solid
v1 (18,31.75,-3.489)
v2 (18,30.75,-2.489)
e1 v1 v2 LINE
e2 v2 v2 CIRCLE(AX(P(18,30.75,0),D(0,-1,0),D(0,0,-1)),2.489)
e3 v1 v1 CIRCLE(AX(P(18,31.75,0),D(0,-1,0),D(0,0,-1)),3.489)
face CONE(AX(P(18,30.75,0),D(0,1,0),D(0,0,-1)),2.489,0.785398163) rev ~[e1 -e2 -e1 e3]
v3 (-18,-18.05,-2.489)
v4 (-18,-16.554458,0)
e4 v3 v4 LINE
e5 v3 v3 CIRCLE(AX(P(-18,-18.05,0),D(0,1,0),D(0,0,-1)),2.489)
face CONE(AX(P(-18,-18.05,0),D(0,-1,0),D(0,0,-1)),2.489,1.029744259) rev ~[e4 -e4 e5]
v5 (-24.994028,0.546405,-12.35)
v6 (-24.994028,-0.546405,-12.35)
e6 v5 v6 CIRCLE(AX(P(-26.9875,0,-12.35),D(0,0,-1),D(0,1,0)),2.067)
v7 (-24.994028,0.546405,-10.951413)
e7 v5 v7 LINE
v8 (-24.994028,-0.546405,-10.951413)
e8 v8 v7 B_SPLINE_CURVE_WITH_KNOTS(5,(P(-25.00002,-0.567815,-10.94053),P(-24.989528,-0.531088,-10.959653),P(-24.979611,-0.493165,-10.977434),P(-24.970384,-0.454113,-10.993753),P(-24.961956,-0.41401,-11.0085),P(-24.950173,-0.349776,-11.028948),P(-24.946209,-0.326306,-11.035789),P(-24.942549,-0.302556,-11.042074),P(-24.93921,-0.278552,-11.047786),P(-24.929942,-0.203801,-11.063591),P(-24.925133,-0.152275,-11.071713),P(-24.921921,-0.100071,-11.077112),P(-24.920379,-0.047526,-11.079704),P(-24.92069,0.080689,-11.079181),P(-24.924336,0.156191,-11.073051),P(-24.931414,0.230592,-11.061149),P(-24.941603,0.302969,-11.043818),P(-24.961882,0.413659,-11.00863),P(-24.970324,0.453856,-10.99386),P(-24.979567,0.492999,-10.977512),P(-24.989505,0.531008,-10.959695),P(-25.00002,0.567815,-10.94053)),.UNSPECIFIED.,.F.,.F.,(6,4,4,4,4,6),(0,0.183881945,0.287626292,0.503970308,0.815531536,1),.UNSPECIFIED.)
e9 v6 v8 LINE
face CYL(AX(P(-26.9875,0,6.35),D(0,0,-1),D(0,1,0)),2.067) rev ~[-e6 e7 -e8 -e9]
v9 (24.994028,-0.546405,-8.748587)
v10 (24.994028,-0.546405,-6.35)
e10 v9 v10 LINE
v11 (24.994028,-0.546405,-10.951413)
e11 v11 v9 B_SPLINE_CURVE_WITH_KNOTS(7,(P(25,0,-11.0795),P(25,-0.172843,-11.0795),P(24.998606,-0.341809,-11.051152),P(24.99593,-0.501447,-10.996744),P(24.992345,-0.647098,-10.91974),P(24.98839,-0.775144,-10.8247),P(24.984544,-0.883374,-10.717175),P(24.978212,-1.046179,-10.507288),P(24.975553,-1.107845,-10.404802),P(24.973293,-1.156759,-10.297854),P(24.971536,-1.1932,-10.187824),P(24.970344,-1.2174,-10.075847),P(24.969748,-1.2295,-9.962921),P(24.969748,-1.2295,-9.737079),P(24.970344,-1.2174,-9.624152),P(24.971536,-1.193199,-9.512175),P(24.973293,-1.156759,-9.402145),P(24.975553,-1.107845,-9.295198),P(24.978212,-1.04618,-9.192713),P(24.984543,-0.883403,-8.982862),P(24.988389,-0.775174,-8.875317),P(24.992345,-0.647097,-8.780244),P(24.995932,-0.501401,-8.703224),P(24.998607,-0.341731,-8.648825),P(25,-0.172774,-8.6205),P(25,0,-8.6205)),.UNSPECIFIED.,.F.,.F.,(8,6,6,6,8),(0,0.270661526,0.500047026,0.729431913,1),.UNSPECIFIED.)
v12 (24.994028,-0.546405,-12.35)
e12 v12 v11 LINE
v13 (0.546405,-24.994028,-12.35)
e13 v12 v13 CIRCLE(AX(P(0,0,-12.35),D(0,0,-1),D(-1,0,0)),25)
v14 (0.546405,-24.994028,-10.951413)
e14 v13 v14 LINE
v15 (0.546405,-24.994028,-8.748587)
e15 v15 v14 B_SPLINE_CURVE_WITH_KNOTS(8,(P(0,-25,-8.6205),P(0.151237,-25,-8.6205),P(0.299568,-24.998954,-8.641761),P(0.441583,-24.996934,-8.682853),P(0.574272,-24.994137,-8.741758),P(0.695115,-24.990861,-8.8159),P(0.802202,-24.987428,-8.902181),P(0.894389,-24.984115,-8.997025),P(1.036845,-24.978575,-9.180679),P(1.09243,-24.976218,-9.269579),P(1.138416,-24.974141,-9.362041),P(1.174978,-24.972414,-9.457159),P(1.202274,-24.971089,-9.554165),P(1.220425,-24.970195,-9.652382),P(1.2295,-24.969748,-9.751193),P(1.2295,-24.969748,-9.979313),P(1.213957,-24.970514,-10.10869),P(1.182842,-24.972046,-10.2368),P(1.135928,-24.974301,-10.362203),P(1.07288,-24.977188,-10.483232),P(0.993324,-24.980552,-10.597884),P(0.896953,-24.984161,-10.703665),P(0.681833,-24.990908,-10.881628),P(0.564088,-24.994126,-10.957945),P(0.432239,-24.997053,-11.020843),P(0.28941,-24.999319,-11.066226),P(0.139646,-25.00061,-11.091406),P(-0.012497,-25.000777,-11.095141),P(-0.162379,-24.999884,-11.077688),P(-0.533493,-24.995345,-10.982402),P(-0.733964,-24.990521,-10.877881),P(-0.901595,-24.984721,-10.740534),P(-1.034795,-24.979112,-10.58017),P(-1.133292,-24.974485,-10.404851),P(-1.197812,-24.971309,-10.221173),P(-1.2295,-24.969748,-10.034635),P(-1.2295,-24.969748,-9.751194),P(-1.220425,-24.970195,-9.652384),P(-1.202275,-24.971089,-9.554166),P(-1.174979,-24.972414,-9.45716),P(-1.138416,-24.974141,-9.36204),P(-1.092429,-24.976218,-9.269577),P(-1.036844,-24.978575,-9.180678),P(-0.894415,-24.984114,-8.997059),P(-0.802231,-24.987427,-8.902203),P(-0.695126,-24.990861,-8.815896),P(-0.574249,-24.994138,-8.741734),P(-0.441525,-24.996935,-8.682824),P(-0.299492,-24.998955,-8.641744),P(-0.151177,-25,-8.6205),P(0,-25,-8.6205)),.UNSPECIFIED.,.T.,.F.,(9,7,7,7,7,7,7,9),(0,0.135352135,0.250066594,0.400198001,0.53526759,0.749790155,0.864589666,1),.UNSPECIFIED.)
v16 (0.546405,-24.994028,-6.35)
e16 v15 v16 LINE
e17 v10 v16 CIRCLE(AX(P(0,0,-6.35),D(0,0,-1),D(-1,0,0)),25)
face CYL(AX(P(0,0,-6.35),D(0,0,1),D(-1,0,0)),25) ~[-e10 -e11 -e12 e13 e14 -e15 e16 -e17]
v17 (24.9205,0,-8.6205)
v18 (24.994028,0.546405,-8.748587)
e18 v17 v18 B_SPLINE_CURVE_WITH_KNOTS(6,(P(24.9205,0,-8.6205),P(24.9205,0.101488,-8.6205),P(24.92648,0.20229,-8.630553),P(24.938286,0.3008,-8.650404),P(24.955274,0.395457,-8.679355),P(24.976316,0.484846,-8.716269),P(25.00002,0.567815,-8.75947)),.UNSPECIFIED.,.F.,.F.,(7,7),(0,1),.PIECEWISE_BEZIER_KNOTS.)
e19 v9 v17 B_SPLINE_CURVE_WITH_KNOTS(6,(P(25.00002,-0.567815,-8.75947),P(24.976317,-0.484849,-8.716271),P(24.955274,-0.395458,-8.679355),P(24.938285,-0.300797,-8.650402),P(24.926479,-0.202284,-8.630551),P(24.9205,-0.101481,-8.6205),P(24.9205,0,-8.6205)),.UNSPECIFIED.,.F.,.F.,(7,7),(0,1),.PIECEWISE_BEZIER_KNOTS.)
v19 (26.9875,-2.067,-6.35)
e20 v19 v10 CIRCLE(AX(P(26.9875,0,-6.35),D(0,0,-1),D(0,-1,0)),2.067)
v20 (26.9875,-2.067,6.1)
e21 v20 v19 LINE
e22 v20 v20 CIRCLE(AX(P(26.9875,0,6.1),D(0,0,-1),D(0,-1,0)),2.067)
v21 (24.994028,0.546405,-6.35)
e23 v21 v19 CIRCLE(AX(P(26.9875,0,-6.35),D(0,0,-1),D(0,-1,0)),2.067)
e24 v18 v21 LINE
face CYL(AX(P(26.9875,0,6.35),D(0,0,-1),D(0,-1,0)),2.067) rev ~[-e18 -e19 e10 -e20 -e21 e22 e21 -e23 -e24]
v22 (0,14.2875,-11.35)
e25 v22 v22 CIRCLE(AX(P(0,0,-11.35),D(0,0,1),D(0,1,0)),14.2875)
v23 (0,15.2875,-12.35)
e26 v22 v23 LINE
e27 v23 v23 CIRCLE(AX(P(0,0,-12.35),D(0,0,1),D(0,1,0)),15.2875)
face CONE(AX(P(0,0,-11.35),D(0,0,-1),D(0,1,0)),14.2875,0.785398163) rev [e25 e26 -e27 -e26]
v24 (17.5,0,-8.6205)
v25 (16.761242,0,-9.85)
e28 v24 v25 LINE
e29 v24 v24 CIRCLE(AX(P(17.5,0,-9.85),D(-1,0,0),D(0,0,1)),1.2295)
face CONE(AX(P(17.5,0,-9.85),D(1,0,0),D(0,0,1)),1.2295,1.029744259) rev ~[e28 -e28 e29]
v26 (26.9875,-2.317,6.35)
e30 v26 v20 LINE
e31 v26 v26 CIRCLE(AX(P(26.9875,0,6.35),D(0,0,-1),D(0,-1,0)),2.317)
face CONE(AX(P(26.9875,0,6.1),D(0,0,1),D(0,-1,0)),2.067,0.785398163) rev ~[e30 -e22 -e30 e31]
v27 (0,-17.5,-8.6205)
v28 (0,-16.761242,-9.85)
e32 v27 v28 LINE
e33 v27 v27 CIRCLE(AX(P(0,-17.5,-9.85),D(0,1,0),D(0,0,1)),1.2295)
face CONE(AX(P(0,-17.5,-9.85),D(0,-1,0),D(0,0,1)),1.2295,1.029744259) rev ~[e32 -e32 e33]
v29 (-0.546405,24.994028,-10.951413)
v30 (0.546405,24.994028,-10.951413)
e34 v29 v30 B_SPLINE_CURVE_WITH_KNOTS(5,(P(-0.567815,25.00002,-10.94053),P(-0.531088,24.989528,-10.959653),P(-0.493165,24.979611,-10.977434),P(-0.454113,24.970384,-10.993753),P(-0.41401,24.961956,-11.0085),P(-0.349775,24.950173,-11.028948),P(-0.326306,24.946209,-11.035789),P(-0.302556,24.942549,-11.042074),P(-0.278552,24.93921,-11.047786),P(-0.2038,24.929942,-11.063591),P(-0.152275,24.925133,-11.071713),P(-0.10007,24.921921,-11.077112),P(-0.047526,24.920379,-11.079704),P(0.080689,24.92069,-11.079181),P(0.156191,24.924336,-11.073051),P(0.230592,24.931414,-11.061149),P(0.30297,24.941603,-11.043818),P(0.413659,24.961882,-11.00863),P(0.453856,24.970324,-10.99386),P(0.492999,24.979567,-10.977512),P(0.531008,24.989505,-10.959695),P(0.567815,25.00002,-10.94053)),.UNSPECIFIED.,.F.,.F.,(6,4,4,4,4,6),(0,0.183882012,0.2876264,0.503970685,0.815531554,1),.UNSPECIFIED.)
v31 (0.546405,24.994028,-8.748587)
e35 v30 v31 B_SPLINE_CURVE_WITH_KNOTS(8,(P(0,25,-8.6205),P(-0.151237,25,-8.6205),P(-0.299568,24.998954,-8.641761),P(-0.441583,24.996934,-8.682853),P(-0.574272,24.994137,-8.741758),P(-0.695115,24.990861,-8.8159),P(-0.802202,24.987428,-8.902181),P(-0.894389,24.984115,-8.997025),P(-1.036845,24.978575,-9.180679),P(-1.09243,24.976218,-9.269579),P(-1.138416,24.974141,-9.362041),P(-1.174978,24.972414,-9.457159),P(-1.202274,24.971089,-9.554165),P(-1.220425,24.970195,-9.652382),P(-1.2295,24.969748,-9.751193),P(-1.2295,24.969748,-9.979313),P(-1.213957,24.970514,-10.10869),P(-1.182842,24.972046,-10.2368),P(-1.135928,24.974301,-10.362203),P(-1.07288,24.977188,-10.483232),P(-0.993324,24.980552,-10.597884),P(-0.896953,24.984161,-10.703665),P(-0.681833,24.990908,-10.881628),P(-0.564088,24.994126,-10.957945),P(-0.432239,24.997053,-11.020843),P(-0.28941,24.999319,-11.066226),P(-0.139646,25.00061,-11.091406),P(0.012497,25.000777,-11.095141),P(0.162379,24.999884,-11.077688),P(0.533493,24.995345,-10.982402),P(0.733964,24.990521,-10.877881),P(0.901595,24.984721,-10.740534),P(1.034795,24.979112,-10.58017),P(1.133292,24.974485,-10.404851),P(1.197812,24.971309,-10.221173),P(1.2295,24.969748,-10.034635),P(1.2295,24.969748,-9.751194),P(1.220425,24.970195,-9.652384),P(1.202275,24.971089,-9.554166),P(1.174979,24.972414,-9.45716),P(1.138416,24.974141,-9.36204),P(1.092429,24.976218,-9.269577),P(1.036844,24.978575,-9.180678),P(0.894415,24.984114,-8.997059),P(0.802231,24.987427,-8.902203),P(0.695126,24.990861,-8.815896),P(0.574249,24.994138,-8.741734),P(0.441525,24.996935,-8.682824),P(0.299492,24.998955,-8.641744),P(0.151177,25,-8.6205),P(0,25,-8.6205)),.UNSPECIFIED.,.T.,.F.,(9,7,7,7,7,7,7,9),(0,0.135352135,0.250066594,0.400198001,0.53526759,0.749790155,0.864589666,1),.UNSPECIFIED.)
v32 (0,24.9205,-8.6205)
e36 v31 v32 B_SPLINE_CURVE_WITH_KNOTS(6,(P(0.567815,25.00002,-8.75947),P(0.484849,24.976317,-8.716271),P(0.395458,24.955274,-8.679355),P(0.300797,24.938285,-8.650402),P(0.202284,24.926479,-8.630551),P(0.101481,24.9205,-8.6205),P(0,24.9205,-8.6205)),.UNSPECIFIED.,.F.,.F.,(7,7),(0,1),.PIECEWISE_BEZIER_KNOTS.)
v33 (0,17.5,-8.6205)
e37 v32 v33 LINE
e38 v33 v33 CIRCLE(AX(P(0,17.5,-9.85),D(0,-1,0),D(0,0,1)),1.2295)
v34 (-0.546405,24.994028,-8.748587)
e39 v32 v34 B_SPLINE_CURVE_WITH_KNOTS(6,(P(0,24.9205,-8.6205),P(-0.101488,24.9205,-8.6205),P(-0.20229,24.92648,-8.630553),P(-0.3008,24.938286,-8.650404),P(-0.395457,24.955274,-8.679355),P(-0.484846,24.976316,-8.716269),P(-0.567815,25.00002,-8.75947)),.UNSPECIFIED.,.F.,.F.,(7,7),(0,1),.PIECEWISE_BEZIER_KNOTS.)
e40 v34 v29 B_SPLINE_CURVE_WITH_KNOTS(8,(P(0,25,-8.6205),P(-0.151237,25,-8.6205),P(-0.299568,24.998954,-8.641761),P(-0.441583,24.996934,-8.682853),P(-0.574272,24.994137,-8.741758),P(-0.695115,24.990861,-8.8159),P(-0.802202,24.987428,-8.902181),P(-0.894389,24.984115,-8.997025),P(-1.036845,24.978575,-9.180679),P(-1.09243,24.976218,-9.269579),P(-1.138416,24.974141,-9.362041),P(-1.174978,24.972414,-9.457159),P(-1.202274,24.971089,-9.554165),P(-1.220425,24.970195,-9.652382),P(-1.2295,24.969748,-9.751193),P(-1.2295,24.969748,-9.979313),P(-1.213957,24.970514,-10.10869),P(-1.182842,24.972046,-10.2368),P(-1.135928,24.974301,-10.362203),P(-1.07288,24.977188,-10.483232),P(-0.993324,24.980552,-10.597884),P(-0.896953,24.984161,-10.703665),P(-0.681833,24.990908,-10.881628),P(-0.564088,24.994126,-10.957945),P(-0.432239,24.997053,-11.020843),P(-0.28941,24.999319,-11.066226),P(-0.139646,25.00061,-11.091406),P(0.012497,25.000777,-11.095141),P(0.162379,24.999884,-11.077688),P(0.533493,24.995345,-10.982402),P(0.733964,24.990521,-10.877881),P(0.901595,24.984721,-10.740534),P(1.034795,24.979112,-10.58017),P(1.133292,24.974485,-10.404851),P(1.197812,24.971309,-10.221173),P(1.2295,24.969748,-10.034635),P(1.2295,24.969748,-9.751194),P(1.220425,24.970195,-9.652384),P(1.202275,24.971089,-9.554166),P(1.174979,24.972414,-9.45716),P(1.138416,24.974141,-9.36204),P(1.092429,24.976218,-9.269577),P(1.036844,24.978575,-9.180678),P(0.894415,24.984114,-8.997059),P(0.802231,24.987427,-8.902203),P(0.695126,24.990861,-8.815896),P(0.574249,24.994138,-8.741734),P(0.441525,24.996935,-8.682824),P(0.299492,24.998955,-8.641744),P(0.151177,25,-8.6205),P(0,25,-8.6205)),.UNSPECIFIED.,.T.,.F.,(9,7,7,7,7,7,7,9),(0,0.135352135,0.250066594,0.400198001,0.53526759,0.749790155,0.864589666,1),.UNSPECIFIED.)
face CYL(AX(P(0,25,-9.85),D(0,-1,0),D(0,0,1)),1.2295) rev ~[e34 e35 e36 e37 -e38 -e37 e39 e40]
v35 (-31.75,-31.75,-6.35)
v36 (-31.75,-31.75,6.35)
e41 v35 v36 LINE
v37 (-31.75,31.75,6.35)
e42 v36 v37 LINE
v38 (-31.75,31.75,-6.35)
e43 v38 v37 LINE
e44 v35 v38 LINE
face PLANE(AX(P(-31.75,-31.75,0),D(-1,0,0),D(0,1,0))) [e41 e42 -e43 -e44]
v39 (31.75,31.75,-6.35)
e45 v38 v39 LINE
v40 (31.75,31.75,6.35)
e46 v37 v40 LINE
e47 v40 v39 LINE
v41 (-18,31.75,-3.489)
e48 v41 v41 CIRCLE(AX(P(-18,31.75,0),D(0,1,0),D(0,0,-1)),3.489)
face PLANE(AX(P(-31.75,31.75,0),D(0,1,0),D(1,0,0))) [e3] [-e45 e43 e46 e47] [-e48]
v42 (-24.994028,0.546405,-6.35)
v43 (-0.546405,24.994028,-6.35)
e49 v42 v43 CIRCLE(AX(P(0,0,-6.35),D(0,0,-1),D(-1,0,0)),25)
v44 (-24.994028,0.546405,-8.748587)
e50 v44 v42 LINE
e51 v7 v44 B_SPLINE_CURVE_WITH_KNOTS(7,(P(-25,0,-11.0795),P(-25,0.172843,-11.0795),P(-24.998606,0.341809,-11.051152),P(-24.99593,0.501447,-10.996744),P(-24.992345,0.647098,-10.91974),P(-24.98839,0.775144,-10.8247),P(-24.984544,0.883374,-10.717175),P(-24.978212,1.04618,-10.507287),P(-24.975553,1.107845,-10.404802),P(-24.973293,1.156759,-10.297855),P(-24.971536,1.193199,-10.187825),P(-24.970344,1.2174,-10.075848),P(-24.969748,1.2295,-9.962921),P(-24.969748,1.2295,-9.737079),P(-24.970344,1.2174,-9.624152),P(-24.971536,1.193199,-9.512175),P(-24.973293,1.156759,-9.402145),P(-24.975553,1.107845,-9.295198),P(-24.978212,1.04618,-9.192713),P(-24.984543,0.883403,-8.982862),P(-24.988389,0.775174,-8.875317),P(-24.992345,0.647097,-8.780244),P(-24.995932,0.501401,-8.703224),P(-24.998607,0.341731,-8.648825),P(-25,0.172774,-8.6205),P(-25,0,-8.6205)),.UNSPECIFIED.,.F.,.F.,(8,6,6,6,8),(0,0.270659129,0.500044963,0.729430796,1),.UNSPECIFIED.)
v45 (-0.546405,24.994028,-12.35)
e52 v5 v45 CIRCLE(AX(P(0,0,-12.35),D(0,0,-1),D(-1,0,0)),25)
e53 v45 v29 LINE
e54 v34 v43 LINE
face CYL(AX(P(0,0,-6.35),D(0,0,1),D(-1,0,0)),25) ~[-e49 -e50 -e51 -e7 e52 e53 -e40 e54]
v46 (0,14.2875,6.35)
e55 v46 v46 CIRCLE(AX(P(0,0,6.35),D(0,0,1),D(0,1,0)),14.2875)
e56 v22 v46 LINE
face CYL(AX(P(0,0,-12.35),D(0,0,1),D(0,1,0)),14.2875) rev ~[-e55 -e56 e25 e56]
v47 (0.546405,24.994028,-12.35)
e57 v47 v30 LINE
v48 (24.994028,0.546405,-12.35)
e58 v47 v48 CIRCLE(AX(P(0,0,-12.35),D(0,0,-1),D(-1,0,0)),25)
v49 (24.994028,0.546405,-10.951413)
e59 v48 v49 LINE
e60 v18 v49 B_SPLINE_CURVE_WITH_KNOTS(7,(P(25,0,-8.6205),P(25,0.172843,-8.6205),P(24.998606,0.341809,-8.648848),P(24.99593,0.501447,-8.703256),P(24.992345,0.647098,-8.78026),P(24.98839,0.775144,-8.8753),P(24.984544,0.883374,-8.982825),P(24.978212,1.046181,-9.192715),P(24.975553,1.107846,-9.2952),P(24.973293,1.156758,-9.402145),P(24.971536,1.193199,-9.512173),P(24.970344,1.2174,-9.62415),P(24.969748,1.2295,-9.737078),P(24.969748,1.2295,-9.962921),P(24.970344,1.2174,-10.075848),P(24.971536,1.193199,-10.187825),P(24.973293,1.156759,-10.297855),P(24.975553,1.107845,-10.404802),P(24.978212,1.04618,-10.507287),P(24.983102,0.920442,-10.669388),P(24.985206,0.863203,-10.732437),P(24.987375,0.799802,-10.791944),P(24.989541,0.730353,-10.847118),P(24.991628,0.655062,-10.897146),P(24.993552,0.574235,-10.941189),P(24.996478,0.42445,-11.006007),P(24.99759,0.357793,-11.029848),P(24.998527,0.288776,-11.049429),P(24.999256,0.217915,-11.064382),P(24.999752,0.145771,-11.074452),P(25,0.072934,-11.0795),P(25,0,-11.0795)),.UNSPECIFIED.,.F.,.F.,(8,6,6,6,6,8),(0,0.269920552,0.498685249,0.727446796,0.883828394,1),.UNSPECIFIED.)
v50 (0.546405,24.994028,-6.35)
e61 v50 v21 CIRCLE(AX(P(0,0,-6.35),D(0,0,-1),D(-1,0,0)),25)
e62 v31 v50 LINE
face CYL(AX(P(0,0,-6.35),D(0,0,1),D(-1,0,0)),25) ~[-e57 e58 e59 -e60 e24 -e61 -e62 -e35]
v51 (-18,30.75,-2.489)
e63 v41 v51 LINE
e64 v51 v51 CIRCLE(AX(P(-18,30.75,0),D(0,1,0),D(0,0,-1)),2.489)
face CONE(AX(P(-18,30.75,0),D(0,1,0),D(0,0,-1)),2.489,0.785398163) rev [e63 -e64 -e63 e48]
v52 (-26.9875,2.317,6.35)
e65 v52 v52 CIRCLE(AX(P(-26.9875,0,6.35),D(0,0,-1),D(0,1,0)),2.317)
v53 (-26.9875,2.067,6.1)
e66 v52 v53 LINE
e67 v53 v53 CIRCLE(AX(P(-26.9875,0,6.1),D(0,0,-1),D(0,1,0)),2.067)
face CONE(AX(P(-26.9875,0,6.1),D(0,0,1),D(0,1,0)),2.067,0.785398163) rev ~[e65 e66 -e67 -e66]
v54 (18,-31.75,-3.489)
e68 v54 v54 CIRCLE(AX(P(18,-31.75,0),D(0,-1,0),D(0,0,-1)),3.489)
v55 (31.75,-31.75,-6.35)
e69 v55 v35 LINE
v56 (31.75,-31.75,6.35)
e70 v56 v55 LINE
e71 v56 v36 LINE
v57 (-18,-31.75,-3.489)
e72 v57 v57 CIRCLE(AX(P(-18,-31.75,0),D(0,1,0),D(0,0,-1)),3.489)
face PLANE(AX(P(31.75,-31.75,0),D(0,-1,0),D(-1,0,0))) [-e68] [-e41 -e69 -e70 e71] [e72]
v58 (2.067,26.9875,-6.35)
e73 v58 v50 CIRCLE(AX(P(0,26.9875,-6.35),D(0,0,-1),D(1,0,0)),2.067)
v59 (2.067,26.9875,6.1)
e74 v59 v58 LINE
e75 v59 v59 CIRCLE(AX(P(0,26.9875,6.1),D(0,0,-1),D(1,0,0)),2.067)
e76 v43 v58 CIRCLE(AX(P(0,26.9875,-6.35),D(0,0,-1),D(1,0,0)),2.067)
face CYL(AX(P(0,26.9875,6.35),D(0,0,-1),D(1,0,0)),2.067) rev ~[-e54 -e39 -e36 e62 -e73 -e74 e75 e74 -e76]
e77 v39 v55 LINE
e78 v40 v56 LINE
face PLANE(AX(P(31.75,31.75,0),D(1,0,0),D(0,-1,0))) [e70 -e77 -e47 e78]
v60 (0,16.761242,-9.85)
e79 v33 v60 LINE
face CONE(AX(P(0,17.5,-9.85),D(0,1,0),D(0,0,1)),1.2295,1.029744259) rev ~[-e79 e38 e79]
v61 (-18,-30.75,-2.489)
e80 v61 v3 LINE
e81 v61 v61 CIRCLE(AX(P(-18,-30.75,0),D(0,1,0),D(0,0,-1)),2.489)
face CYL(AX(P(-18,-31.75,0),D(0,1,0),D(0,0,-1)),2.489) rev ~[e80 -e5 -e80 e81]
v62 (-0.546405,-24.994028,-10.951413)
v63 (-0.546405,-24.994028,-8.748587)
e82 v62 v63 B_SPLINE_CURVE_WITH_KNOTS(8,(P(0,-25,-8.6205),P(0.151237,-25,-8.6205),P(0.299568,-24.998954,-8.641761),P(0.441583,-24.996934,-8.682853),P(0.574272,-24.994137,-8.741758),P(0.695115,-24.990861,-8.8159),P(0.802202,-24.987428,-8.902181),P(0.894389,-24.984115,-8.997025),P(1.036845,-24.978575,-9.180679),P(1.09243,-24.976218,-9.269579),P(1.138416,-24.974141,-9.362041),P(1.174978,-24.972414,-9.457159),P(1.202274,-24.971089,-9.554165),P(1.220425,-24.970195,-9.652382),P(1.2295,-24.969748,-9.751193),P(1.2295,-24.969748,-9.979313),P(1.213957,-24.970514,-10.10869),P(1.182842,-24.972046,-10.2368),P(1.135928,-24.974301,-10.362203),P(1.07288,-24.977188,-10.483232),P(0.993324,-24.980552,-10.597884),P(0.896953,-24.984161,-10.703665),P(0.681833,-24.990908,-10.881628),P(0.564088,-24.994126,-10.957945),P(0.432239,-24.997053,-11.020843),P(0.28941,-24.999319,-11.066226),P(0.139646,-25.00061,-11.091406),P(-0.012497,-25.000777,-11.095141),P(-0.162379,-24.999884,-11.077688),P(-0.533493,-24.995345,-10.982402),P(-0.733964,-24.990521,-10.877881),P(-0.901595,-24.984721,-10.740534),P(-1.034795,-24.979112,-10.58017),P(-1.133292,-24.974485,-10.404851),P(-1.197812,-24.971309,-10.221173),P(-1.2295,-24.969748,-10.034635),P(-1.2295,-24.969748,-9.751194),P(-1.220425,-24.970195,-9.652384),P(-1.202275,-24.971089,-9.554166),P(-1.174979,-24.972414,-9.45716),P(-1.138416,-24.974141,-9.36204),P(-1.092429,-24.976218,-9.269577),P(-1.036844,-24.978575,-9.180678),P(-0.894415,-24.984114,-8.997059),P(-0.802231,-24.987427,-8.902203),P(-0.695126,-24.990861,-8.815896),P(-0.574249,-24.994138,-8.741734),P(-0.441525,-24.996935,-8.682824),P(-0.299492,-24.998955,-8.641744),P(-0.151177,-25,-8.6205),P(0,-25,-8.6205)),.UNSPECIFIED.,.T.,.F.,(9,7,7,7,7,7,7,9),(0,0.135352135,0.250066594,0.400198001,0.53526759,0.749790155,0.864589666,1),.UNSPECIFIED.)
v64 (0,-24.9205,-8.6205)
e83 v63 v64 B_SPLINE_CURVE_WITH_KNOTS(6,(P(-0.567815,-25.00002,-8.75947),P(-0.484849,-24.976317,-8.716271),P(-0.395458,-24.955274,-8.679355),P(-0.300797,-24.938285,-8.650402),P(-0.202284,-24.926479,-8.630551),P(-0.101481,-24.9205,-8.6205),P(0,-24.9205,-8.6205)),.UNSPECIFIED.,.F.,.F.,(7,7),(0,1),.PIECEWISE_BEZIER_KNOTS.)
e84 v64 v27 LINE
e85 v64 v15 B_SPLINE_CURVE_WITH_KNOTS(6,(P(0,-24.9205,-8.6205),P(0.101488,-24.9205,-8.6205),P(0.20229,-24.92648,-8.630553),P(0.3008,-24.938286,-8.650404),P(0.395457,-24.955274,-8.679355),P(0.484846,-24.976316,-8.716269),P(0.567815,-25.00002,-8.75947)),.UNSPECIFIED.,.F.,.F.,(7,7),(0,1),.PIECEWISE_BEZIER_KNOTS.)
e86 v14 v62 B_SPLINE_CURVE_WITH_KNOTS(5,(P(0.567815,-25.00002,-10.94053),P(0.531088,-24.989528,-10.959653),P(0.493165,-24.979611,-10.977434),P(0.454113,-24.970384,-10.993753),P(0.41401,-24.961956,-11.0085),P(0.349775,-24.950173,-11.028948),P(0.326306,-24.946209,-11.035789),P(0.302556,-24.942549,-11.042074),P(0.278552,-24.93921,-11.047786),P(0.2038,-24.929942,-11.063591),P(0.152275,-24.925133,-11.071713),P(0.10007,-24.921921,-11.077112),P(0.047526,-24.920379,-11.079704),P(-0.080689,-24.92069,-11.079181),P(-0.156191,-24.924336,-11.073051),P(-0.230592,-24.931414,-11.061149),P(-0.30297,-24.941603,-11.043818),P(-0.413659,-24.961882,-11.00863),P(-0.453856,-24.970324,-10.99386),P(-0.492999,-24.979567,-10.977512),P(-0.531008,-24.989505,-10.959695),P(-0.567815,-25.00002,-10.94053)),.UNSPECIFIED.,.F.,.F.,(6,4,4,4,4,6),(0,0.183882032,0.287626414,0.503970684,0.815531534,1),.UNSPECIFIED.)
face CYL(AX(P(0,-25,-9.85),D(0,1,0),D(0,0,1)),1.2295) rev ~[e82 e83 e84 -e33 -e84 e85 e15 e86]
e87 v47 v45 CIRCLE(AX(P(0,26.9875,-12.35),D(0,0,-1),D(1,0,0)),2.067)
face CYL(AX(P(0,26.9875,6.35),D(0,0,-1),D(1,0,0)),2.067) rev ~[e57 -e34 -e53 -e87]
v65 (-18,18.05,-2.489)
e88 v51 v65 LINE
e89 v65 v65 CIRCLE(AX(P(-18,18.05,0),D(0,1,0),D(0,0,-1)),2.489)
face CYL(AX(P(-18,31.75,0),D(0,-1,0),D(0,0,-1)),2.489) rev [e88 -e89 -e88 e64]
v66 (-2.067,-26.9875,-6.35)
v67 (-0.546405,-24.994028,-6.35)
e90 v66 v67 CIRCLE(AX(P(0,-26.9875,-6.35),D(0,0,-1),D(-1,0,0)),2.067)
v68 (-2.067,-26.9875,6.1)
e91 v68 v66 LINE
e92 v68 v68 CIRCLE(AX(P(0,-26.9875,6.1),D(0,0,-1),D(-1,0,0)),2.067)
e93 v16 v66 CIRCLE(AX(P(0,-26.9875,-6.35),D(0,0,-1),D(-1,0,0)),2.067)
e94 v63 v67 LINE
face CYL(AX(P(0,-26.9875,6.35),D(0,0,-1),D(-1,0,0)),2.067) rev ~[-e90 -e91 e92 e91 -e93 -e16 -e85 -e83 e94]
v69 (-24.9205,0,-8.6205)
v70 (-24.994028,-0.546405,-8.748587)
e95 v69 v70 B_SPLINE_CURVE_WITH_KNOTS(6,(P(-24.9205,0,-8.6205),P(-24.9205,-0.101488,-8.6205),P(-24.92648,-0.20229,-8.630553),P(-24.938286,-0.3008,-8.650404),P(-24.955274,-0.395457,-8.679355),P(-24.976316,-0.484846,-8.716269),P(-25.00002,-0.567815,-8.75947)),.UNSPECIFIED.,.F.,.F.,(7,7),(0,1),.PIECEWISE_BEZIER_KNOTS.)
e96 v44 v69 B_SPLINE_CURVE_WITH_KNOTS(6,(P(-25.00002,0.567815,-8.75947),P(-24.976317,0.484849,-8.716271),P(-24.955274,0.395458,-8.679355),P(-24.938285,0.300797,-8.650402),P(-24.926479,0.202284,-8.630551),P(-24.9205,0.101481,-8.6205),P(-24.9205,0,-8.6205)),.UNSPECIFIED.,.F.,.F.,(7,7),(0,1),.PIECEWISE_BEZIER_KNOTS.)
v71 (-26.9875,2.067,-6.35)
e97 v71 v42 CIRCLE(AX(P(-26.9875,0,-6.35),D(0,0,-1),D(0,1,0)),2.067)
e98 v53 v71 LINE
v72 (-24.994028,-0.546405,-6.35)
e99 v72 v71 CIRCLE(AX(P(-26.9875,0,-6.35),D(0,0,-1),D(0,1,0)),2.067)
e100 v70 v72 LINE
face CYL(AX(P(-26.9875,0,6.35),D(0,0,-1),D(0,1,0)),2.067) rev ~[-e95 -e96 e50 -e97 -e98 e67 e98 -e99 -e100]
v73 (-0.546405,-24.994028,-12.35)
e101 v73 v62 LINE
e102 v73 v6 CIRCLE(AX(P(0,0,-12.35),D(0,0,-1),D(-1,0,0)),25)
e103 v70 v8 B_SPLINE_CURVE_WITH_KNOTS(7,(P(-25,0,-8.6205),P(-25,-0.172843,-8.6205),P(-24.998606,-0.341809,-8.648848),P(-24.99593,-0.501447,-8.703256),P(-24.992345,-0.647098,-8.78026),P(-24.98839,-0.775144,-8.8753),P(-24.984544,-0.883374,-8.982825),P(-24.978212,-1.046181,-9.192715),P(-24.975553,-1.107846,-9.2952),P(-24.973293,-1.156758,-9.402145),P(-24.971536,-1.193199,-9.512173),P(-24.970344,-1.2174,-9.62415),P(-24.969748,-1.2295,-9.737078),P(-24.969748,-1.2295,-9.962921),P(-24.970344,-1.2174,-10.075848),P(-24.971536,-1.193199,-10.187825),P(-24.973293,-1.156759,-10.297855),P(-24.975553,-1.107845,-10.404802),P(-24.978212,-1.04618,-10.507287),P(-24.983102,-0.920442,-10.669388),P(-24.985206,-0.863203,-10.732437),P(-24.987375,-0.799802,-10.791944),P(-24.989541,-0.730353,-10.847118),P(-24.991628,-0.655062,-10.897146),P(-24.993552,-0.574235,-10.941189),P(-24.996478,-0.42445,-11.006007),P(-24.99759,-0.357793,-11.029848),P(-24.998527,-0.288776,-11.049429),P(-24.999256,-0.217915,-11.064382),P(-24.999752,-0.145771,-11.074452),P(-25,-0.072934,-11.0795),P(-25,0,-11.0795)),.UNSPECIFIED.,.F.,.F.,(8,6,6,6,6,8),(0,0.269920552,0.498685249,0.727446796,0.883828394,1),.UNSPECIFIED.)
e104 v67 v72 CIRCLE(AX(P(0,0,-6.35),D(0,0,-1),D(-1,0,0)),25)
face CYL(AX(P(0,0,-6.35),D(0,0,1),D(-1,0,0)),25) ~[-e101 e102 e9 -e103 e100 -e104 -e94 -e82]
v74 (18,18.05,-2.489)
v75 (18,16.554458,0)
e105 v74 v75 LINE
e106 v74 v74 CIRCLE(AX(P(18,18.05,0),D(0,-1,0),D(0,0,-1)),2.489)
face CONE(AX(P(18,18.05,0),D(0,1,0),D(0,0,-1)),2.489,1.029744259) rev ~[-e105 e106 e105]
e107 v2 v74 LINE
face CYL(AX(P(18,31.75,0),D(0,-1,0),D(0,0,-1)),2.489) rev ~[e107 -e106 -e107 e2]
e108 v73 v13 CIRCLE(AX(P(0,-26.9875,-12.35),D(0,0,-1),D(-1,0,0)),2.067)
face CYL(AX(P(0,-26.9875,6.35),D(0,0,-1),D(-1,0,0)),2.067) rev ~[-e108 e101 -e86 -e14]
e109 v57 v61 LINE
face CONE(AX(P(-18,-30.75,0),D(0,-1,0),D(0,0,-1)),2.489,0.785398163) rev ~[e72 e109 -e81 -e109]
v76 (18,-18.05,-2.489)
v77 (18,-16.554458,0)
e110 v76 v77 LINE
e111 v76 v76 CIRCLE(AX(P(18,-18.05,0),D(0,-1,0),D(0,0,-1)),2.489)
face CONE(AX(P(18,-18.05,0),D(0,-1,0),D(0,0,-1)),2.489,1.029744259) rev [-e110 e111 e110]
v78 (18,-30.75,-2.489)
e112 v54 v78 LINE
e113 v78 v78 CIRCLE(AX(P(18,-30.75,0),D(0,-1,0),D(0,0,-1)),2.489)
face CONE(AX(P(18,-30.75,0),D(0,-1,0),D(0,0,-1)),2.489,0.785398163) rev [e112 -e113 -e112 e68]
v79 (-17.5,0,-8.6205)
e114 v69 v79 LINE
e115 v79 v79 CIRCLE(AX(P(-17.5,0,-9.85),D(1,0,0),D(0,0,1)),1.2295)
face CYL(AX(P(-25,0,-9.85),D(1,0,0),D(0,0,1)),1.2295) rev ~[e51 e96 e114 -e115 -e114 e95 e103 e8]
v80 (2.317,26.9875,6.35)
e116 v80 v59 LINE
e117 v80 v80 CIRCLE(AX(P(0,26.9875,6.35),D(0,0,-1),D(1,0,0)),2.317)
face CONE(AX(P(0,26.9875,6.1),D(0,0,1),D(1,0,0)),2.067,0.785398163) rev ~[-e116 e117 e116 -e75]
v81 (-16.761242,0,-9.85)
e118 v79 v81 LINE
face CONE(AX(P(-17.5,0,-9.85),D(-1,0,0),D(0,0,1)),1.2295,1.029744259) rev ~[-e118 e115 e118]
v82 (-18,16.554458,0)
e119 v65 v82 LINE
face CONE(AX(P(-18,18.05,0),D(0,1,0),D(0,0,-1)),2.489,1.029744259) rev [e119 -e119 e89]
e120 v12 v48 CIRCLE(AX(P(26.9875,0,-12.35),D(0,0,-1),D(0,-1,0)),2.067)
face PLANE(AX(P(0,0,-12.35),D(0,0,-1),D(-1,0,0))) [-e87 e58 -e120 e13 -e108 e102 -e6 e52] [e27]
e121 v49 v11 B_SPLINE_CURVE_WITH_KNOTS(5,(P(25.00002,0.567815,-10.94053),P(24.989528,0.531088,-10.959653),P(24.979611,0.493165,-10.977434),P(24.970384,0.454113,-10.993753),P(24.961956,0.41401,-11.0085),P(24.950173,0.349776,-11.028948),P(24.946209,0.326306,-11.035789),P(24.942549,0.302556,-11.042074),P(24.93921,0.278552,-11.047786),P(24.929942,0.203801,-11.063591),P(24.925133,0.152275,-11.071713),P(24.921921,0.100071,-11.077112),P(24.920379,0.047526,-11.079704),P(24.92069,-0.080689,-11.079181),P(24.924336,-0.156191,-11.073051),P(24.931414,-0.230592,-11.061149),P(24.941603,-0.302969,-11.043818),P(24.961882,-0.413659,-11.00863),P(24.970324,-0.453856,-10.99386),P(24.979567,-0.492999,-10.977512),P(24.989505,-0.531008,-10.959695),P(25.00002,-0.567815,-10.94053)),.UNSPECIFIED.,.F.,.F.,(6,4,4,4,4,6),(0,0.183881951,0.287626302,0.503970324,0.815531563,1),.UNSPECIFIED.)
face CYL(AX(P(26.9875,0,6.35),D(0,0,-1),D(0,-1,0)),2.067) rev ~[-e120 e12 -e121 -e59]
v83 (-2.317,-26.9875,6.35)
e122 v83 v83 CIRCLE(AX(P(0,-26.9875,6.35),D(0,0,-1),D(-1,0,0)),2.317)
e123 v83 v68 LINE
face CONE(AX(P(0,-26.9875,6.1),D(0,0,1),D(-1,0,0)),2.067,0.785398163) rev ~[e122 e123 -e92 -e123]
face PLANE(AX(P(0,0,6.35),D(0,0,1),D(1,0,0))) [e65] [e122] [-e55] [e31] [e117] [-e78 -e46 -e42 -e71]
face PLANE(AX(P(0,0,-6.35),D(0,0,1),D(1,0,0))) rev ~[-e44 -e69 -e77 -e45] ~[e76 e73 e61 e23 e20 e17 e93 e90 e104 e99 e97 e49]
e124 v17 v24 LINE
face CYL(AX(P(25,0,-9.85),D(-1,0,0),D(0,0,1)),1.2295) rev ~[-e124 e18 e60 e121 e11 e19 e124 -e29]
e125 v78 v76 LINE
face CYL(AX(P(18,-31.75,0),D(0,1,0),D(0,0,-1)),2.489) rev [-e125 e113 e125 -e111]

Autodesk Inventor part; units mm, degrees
ref_plane "YZ Plane" through (0, 0, 0) normal (1, 0, 0) x (0, 1, 0)
ref_plane "XZ Plane" through (0, 0, 0) normal (0, 1, 0) x (-1, 0, 0)
sketch "Sketch1" plane through (0, 0, 0) normal (0, 0, 1) x (1, 0, 0)
  line L0 (-31.75, 31.75) -> (31.75, 31.75)
  line L1 (31.75, 31.75) -> (31.75, -31.75)
  line L2 (31.75, -31.75) -> (-31.75, -31.75)
  line L3 (-31.75, -31.75) -> (-31.75, 31.75)
  line L4 (0, 0) -> (0, 31.75) construction
  line L5 (0, 0) -> (0, -31.75) construction
  line L6 (0, 0) -> (31.75, 0) construction
  line L7 (0, 0) -> (-31.75, 0) construction
  dimension "d0" = 63.5
  dimension "d1" = 63.5
extrude "Extrusion1" add sketch "Sketch1" along normal mid plane 12.7
sketch "Sketch6" plane through (0, 0, -6.35) normal (0, 0, -1) x (-1, 0, 0)
  circle A0 centre (0, 0) radius 25
  dimension "d13" = 50
extrude "Extrusion4" add sketch "Sketch6" along normal blind 6
sketch "Sketch8" plane through (0, 0, -12.35) normal (0, 0, -1) x (-1, 0, 0)
  circle A0 centre (0, 0) radius 25 projected
hole "Hole2" at (0, 0, -12.35) direction (0, 0, 1) diameter 28.575 end through all
chamfer "Chamfer1" distance 1 angle 45 1 edges at (0, -14.2875, -12.35)
sketch "Sketch9" plane through (-31.75, -31.75, 6.35) normal (0, -1, 0) x (1, 0, 0)
  line L0 (63.5, 0) -> (0, 0) projected
  line L1 (0, 0) -> (0, -12.7) projected
  line L2 (0, -12.7) -> (63.5, -12.7) projected
  line L3 (63.5, 0) -> (63.5, -12.7) projected
  line L4 (0, -6.35) -> (63.5, -6.35) construction
  line L5 (31.75, 0) -> (31.75, -12.7) construction
  point P0 (13.75, -6.35)
  dimension "d37" = 18
hole "Hole3" at (-18, -31.75, 0) direction (0, 1, 0) diameter 4.978 depth 13.7 tip angle 118 thread size "1/4-20 UNC" class "1B" standard "ANSI Unified Screw Threads"
mirror "Mirror1" about plane through (0, 0, 0) normal (1, 0, 0) of "Hole3"
mirror "Mirror2" about plane through (0, 0, 0) normal (0, 1, 0) of "Hole3", "Mirror1"
chamfer "Chamfer2" distance 1 angle 45 4 edges at (-18, -31.75, 2.489) (18, -31.75, 2.489) (-18, 31.75, 2.489) (18, 31.75, 2.489)
ref_plane "Work Plane1" through (0, 25, 0) normal (0, 1, 0) x (-1, 0, 0)
sketch "Sketch10" plane through (0, 25, 0) normal (0, 1, 0) x (-1, 0, 0)
  line L0 (-31.75, -6.35) -> (31.75, -6.35) projected
  line L1 (0, -6.35) -> (0, -22.9157) construction
  point P0 (0, -9.85)
  dimension "d48" = 3.5
hole "Hole4" at (0, 25, -9.85) direction (0, -1, 0) diameter 2.459 depth 7.5 tip angle 118 thread size "M3x0.5" class "6H" standard "ANSI Metric M Profile"
pattern_circular "Circular Pattern2" count 4 over 360 about axis through (0, 0, 79.3789) along (0, 0, -1) of "Hole4"
sketch "Sketch11" plane through (0, 0, 6.35) normal (0, 0, 1) x (1, 0, 0)
  circle A0 centre (0, 0) radius 14.2875 projected
  line L0 (31.75, -31.75) -> (-31.75, -31.75) projected
  line L1 (0, 0) -> (36.6411, 0) construction
  point P0 (26.9875, 0)
  dimension "d59" = 26.9875
hole "Hole5" at (26.9875, 0, 6.35) direction (0, 0, -1) diameter 4.134 end through all thread size "M5x0.8" class "6H" standard "ANSI Metric M Profile"
pattern_circular "Circular Pattern3" count 4 over 360 about axis through (0, 0, 79.3789) along (0, 0, -1) of "Hole5"
chamfer "Chamfer3" distance 0.25 angle 45 4 edges at (26.9875, 2.067, 6.35) (-2.067, 26.9875, 6.35) (-26.9875, -2.067, 6.35) (2.067, -26.9875, 6.35)
properties part number "BB2-FrontPlate" material "Aluminum-6061-AHC"
